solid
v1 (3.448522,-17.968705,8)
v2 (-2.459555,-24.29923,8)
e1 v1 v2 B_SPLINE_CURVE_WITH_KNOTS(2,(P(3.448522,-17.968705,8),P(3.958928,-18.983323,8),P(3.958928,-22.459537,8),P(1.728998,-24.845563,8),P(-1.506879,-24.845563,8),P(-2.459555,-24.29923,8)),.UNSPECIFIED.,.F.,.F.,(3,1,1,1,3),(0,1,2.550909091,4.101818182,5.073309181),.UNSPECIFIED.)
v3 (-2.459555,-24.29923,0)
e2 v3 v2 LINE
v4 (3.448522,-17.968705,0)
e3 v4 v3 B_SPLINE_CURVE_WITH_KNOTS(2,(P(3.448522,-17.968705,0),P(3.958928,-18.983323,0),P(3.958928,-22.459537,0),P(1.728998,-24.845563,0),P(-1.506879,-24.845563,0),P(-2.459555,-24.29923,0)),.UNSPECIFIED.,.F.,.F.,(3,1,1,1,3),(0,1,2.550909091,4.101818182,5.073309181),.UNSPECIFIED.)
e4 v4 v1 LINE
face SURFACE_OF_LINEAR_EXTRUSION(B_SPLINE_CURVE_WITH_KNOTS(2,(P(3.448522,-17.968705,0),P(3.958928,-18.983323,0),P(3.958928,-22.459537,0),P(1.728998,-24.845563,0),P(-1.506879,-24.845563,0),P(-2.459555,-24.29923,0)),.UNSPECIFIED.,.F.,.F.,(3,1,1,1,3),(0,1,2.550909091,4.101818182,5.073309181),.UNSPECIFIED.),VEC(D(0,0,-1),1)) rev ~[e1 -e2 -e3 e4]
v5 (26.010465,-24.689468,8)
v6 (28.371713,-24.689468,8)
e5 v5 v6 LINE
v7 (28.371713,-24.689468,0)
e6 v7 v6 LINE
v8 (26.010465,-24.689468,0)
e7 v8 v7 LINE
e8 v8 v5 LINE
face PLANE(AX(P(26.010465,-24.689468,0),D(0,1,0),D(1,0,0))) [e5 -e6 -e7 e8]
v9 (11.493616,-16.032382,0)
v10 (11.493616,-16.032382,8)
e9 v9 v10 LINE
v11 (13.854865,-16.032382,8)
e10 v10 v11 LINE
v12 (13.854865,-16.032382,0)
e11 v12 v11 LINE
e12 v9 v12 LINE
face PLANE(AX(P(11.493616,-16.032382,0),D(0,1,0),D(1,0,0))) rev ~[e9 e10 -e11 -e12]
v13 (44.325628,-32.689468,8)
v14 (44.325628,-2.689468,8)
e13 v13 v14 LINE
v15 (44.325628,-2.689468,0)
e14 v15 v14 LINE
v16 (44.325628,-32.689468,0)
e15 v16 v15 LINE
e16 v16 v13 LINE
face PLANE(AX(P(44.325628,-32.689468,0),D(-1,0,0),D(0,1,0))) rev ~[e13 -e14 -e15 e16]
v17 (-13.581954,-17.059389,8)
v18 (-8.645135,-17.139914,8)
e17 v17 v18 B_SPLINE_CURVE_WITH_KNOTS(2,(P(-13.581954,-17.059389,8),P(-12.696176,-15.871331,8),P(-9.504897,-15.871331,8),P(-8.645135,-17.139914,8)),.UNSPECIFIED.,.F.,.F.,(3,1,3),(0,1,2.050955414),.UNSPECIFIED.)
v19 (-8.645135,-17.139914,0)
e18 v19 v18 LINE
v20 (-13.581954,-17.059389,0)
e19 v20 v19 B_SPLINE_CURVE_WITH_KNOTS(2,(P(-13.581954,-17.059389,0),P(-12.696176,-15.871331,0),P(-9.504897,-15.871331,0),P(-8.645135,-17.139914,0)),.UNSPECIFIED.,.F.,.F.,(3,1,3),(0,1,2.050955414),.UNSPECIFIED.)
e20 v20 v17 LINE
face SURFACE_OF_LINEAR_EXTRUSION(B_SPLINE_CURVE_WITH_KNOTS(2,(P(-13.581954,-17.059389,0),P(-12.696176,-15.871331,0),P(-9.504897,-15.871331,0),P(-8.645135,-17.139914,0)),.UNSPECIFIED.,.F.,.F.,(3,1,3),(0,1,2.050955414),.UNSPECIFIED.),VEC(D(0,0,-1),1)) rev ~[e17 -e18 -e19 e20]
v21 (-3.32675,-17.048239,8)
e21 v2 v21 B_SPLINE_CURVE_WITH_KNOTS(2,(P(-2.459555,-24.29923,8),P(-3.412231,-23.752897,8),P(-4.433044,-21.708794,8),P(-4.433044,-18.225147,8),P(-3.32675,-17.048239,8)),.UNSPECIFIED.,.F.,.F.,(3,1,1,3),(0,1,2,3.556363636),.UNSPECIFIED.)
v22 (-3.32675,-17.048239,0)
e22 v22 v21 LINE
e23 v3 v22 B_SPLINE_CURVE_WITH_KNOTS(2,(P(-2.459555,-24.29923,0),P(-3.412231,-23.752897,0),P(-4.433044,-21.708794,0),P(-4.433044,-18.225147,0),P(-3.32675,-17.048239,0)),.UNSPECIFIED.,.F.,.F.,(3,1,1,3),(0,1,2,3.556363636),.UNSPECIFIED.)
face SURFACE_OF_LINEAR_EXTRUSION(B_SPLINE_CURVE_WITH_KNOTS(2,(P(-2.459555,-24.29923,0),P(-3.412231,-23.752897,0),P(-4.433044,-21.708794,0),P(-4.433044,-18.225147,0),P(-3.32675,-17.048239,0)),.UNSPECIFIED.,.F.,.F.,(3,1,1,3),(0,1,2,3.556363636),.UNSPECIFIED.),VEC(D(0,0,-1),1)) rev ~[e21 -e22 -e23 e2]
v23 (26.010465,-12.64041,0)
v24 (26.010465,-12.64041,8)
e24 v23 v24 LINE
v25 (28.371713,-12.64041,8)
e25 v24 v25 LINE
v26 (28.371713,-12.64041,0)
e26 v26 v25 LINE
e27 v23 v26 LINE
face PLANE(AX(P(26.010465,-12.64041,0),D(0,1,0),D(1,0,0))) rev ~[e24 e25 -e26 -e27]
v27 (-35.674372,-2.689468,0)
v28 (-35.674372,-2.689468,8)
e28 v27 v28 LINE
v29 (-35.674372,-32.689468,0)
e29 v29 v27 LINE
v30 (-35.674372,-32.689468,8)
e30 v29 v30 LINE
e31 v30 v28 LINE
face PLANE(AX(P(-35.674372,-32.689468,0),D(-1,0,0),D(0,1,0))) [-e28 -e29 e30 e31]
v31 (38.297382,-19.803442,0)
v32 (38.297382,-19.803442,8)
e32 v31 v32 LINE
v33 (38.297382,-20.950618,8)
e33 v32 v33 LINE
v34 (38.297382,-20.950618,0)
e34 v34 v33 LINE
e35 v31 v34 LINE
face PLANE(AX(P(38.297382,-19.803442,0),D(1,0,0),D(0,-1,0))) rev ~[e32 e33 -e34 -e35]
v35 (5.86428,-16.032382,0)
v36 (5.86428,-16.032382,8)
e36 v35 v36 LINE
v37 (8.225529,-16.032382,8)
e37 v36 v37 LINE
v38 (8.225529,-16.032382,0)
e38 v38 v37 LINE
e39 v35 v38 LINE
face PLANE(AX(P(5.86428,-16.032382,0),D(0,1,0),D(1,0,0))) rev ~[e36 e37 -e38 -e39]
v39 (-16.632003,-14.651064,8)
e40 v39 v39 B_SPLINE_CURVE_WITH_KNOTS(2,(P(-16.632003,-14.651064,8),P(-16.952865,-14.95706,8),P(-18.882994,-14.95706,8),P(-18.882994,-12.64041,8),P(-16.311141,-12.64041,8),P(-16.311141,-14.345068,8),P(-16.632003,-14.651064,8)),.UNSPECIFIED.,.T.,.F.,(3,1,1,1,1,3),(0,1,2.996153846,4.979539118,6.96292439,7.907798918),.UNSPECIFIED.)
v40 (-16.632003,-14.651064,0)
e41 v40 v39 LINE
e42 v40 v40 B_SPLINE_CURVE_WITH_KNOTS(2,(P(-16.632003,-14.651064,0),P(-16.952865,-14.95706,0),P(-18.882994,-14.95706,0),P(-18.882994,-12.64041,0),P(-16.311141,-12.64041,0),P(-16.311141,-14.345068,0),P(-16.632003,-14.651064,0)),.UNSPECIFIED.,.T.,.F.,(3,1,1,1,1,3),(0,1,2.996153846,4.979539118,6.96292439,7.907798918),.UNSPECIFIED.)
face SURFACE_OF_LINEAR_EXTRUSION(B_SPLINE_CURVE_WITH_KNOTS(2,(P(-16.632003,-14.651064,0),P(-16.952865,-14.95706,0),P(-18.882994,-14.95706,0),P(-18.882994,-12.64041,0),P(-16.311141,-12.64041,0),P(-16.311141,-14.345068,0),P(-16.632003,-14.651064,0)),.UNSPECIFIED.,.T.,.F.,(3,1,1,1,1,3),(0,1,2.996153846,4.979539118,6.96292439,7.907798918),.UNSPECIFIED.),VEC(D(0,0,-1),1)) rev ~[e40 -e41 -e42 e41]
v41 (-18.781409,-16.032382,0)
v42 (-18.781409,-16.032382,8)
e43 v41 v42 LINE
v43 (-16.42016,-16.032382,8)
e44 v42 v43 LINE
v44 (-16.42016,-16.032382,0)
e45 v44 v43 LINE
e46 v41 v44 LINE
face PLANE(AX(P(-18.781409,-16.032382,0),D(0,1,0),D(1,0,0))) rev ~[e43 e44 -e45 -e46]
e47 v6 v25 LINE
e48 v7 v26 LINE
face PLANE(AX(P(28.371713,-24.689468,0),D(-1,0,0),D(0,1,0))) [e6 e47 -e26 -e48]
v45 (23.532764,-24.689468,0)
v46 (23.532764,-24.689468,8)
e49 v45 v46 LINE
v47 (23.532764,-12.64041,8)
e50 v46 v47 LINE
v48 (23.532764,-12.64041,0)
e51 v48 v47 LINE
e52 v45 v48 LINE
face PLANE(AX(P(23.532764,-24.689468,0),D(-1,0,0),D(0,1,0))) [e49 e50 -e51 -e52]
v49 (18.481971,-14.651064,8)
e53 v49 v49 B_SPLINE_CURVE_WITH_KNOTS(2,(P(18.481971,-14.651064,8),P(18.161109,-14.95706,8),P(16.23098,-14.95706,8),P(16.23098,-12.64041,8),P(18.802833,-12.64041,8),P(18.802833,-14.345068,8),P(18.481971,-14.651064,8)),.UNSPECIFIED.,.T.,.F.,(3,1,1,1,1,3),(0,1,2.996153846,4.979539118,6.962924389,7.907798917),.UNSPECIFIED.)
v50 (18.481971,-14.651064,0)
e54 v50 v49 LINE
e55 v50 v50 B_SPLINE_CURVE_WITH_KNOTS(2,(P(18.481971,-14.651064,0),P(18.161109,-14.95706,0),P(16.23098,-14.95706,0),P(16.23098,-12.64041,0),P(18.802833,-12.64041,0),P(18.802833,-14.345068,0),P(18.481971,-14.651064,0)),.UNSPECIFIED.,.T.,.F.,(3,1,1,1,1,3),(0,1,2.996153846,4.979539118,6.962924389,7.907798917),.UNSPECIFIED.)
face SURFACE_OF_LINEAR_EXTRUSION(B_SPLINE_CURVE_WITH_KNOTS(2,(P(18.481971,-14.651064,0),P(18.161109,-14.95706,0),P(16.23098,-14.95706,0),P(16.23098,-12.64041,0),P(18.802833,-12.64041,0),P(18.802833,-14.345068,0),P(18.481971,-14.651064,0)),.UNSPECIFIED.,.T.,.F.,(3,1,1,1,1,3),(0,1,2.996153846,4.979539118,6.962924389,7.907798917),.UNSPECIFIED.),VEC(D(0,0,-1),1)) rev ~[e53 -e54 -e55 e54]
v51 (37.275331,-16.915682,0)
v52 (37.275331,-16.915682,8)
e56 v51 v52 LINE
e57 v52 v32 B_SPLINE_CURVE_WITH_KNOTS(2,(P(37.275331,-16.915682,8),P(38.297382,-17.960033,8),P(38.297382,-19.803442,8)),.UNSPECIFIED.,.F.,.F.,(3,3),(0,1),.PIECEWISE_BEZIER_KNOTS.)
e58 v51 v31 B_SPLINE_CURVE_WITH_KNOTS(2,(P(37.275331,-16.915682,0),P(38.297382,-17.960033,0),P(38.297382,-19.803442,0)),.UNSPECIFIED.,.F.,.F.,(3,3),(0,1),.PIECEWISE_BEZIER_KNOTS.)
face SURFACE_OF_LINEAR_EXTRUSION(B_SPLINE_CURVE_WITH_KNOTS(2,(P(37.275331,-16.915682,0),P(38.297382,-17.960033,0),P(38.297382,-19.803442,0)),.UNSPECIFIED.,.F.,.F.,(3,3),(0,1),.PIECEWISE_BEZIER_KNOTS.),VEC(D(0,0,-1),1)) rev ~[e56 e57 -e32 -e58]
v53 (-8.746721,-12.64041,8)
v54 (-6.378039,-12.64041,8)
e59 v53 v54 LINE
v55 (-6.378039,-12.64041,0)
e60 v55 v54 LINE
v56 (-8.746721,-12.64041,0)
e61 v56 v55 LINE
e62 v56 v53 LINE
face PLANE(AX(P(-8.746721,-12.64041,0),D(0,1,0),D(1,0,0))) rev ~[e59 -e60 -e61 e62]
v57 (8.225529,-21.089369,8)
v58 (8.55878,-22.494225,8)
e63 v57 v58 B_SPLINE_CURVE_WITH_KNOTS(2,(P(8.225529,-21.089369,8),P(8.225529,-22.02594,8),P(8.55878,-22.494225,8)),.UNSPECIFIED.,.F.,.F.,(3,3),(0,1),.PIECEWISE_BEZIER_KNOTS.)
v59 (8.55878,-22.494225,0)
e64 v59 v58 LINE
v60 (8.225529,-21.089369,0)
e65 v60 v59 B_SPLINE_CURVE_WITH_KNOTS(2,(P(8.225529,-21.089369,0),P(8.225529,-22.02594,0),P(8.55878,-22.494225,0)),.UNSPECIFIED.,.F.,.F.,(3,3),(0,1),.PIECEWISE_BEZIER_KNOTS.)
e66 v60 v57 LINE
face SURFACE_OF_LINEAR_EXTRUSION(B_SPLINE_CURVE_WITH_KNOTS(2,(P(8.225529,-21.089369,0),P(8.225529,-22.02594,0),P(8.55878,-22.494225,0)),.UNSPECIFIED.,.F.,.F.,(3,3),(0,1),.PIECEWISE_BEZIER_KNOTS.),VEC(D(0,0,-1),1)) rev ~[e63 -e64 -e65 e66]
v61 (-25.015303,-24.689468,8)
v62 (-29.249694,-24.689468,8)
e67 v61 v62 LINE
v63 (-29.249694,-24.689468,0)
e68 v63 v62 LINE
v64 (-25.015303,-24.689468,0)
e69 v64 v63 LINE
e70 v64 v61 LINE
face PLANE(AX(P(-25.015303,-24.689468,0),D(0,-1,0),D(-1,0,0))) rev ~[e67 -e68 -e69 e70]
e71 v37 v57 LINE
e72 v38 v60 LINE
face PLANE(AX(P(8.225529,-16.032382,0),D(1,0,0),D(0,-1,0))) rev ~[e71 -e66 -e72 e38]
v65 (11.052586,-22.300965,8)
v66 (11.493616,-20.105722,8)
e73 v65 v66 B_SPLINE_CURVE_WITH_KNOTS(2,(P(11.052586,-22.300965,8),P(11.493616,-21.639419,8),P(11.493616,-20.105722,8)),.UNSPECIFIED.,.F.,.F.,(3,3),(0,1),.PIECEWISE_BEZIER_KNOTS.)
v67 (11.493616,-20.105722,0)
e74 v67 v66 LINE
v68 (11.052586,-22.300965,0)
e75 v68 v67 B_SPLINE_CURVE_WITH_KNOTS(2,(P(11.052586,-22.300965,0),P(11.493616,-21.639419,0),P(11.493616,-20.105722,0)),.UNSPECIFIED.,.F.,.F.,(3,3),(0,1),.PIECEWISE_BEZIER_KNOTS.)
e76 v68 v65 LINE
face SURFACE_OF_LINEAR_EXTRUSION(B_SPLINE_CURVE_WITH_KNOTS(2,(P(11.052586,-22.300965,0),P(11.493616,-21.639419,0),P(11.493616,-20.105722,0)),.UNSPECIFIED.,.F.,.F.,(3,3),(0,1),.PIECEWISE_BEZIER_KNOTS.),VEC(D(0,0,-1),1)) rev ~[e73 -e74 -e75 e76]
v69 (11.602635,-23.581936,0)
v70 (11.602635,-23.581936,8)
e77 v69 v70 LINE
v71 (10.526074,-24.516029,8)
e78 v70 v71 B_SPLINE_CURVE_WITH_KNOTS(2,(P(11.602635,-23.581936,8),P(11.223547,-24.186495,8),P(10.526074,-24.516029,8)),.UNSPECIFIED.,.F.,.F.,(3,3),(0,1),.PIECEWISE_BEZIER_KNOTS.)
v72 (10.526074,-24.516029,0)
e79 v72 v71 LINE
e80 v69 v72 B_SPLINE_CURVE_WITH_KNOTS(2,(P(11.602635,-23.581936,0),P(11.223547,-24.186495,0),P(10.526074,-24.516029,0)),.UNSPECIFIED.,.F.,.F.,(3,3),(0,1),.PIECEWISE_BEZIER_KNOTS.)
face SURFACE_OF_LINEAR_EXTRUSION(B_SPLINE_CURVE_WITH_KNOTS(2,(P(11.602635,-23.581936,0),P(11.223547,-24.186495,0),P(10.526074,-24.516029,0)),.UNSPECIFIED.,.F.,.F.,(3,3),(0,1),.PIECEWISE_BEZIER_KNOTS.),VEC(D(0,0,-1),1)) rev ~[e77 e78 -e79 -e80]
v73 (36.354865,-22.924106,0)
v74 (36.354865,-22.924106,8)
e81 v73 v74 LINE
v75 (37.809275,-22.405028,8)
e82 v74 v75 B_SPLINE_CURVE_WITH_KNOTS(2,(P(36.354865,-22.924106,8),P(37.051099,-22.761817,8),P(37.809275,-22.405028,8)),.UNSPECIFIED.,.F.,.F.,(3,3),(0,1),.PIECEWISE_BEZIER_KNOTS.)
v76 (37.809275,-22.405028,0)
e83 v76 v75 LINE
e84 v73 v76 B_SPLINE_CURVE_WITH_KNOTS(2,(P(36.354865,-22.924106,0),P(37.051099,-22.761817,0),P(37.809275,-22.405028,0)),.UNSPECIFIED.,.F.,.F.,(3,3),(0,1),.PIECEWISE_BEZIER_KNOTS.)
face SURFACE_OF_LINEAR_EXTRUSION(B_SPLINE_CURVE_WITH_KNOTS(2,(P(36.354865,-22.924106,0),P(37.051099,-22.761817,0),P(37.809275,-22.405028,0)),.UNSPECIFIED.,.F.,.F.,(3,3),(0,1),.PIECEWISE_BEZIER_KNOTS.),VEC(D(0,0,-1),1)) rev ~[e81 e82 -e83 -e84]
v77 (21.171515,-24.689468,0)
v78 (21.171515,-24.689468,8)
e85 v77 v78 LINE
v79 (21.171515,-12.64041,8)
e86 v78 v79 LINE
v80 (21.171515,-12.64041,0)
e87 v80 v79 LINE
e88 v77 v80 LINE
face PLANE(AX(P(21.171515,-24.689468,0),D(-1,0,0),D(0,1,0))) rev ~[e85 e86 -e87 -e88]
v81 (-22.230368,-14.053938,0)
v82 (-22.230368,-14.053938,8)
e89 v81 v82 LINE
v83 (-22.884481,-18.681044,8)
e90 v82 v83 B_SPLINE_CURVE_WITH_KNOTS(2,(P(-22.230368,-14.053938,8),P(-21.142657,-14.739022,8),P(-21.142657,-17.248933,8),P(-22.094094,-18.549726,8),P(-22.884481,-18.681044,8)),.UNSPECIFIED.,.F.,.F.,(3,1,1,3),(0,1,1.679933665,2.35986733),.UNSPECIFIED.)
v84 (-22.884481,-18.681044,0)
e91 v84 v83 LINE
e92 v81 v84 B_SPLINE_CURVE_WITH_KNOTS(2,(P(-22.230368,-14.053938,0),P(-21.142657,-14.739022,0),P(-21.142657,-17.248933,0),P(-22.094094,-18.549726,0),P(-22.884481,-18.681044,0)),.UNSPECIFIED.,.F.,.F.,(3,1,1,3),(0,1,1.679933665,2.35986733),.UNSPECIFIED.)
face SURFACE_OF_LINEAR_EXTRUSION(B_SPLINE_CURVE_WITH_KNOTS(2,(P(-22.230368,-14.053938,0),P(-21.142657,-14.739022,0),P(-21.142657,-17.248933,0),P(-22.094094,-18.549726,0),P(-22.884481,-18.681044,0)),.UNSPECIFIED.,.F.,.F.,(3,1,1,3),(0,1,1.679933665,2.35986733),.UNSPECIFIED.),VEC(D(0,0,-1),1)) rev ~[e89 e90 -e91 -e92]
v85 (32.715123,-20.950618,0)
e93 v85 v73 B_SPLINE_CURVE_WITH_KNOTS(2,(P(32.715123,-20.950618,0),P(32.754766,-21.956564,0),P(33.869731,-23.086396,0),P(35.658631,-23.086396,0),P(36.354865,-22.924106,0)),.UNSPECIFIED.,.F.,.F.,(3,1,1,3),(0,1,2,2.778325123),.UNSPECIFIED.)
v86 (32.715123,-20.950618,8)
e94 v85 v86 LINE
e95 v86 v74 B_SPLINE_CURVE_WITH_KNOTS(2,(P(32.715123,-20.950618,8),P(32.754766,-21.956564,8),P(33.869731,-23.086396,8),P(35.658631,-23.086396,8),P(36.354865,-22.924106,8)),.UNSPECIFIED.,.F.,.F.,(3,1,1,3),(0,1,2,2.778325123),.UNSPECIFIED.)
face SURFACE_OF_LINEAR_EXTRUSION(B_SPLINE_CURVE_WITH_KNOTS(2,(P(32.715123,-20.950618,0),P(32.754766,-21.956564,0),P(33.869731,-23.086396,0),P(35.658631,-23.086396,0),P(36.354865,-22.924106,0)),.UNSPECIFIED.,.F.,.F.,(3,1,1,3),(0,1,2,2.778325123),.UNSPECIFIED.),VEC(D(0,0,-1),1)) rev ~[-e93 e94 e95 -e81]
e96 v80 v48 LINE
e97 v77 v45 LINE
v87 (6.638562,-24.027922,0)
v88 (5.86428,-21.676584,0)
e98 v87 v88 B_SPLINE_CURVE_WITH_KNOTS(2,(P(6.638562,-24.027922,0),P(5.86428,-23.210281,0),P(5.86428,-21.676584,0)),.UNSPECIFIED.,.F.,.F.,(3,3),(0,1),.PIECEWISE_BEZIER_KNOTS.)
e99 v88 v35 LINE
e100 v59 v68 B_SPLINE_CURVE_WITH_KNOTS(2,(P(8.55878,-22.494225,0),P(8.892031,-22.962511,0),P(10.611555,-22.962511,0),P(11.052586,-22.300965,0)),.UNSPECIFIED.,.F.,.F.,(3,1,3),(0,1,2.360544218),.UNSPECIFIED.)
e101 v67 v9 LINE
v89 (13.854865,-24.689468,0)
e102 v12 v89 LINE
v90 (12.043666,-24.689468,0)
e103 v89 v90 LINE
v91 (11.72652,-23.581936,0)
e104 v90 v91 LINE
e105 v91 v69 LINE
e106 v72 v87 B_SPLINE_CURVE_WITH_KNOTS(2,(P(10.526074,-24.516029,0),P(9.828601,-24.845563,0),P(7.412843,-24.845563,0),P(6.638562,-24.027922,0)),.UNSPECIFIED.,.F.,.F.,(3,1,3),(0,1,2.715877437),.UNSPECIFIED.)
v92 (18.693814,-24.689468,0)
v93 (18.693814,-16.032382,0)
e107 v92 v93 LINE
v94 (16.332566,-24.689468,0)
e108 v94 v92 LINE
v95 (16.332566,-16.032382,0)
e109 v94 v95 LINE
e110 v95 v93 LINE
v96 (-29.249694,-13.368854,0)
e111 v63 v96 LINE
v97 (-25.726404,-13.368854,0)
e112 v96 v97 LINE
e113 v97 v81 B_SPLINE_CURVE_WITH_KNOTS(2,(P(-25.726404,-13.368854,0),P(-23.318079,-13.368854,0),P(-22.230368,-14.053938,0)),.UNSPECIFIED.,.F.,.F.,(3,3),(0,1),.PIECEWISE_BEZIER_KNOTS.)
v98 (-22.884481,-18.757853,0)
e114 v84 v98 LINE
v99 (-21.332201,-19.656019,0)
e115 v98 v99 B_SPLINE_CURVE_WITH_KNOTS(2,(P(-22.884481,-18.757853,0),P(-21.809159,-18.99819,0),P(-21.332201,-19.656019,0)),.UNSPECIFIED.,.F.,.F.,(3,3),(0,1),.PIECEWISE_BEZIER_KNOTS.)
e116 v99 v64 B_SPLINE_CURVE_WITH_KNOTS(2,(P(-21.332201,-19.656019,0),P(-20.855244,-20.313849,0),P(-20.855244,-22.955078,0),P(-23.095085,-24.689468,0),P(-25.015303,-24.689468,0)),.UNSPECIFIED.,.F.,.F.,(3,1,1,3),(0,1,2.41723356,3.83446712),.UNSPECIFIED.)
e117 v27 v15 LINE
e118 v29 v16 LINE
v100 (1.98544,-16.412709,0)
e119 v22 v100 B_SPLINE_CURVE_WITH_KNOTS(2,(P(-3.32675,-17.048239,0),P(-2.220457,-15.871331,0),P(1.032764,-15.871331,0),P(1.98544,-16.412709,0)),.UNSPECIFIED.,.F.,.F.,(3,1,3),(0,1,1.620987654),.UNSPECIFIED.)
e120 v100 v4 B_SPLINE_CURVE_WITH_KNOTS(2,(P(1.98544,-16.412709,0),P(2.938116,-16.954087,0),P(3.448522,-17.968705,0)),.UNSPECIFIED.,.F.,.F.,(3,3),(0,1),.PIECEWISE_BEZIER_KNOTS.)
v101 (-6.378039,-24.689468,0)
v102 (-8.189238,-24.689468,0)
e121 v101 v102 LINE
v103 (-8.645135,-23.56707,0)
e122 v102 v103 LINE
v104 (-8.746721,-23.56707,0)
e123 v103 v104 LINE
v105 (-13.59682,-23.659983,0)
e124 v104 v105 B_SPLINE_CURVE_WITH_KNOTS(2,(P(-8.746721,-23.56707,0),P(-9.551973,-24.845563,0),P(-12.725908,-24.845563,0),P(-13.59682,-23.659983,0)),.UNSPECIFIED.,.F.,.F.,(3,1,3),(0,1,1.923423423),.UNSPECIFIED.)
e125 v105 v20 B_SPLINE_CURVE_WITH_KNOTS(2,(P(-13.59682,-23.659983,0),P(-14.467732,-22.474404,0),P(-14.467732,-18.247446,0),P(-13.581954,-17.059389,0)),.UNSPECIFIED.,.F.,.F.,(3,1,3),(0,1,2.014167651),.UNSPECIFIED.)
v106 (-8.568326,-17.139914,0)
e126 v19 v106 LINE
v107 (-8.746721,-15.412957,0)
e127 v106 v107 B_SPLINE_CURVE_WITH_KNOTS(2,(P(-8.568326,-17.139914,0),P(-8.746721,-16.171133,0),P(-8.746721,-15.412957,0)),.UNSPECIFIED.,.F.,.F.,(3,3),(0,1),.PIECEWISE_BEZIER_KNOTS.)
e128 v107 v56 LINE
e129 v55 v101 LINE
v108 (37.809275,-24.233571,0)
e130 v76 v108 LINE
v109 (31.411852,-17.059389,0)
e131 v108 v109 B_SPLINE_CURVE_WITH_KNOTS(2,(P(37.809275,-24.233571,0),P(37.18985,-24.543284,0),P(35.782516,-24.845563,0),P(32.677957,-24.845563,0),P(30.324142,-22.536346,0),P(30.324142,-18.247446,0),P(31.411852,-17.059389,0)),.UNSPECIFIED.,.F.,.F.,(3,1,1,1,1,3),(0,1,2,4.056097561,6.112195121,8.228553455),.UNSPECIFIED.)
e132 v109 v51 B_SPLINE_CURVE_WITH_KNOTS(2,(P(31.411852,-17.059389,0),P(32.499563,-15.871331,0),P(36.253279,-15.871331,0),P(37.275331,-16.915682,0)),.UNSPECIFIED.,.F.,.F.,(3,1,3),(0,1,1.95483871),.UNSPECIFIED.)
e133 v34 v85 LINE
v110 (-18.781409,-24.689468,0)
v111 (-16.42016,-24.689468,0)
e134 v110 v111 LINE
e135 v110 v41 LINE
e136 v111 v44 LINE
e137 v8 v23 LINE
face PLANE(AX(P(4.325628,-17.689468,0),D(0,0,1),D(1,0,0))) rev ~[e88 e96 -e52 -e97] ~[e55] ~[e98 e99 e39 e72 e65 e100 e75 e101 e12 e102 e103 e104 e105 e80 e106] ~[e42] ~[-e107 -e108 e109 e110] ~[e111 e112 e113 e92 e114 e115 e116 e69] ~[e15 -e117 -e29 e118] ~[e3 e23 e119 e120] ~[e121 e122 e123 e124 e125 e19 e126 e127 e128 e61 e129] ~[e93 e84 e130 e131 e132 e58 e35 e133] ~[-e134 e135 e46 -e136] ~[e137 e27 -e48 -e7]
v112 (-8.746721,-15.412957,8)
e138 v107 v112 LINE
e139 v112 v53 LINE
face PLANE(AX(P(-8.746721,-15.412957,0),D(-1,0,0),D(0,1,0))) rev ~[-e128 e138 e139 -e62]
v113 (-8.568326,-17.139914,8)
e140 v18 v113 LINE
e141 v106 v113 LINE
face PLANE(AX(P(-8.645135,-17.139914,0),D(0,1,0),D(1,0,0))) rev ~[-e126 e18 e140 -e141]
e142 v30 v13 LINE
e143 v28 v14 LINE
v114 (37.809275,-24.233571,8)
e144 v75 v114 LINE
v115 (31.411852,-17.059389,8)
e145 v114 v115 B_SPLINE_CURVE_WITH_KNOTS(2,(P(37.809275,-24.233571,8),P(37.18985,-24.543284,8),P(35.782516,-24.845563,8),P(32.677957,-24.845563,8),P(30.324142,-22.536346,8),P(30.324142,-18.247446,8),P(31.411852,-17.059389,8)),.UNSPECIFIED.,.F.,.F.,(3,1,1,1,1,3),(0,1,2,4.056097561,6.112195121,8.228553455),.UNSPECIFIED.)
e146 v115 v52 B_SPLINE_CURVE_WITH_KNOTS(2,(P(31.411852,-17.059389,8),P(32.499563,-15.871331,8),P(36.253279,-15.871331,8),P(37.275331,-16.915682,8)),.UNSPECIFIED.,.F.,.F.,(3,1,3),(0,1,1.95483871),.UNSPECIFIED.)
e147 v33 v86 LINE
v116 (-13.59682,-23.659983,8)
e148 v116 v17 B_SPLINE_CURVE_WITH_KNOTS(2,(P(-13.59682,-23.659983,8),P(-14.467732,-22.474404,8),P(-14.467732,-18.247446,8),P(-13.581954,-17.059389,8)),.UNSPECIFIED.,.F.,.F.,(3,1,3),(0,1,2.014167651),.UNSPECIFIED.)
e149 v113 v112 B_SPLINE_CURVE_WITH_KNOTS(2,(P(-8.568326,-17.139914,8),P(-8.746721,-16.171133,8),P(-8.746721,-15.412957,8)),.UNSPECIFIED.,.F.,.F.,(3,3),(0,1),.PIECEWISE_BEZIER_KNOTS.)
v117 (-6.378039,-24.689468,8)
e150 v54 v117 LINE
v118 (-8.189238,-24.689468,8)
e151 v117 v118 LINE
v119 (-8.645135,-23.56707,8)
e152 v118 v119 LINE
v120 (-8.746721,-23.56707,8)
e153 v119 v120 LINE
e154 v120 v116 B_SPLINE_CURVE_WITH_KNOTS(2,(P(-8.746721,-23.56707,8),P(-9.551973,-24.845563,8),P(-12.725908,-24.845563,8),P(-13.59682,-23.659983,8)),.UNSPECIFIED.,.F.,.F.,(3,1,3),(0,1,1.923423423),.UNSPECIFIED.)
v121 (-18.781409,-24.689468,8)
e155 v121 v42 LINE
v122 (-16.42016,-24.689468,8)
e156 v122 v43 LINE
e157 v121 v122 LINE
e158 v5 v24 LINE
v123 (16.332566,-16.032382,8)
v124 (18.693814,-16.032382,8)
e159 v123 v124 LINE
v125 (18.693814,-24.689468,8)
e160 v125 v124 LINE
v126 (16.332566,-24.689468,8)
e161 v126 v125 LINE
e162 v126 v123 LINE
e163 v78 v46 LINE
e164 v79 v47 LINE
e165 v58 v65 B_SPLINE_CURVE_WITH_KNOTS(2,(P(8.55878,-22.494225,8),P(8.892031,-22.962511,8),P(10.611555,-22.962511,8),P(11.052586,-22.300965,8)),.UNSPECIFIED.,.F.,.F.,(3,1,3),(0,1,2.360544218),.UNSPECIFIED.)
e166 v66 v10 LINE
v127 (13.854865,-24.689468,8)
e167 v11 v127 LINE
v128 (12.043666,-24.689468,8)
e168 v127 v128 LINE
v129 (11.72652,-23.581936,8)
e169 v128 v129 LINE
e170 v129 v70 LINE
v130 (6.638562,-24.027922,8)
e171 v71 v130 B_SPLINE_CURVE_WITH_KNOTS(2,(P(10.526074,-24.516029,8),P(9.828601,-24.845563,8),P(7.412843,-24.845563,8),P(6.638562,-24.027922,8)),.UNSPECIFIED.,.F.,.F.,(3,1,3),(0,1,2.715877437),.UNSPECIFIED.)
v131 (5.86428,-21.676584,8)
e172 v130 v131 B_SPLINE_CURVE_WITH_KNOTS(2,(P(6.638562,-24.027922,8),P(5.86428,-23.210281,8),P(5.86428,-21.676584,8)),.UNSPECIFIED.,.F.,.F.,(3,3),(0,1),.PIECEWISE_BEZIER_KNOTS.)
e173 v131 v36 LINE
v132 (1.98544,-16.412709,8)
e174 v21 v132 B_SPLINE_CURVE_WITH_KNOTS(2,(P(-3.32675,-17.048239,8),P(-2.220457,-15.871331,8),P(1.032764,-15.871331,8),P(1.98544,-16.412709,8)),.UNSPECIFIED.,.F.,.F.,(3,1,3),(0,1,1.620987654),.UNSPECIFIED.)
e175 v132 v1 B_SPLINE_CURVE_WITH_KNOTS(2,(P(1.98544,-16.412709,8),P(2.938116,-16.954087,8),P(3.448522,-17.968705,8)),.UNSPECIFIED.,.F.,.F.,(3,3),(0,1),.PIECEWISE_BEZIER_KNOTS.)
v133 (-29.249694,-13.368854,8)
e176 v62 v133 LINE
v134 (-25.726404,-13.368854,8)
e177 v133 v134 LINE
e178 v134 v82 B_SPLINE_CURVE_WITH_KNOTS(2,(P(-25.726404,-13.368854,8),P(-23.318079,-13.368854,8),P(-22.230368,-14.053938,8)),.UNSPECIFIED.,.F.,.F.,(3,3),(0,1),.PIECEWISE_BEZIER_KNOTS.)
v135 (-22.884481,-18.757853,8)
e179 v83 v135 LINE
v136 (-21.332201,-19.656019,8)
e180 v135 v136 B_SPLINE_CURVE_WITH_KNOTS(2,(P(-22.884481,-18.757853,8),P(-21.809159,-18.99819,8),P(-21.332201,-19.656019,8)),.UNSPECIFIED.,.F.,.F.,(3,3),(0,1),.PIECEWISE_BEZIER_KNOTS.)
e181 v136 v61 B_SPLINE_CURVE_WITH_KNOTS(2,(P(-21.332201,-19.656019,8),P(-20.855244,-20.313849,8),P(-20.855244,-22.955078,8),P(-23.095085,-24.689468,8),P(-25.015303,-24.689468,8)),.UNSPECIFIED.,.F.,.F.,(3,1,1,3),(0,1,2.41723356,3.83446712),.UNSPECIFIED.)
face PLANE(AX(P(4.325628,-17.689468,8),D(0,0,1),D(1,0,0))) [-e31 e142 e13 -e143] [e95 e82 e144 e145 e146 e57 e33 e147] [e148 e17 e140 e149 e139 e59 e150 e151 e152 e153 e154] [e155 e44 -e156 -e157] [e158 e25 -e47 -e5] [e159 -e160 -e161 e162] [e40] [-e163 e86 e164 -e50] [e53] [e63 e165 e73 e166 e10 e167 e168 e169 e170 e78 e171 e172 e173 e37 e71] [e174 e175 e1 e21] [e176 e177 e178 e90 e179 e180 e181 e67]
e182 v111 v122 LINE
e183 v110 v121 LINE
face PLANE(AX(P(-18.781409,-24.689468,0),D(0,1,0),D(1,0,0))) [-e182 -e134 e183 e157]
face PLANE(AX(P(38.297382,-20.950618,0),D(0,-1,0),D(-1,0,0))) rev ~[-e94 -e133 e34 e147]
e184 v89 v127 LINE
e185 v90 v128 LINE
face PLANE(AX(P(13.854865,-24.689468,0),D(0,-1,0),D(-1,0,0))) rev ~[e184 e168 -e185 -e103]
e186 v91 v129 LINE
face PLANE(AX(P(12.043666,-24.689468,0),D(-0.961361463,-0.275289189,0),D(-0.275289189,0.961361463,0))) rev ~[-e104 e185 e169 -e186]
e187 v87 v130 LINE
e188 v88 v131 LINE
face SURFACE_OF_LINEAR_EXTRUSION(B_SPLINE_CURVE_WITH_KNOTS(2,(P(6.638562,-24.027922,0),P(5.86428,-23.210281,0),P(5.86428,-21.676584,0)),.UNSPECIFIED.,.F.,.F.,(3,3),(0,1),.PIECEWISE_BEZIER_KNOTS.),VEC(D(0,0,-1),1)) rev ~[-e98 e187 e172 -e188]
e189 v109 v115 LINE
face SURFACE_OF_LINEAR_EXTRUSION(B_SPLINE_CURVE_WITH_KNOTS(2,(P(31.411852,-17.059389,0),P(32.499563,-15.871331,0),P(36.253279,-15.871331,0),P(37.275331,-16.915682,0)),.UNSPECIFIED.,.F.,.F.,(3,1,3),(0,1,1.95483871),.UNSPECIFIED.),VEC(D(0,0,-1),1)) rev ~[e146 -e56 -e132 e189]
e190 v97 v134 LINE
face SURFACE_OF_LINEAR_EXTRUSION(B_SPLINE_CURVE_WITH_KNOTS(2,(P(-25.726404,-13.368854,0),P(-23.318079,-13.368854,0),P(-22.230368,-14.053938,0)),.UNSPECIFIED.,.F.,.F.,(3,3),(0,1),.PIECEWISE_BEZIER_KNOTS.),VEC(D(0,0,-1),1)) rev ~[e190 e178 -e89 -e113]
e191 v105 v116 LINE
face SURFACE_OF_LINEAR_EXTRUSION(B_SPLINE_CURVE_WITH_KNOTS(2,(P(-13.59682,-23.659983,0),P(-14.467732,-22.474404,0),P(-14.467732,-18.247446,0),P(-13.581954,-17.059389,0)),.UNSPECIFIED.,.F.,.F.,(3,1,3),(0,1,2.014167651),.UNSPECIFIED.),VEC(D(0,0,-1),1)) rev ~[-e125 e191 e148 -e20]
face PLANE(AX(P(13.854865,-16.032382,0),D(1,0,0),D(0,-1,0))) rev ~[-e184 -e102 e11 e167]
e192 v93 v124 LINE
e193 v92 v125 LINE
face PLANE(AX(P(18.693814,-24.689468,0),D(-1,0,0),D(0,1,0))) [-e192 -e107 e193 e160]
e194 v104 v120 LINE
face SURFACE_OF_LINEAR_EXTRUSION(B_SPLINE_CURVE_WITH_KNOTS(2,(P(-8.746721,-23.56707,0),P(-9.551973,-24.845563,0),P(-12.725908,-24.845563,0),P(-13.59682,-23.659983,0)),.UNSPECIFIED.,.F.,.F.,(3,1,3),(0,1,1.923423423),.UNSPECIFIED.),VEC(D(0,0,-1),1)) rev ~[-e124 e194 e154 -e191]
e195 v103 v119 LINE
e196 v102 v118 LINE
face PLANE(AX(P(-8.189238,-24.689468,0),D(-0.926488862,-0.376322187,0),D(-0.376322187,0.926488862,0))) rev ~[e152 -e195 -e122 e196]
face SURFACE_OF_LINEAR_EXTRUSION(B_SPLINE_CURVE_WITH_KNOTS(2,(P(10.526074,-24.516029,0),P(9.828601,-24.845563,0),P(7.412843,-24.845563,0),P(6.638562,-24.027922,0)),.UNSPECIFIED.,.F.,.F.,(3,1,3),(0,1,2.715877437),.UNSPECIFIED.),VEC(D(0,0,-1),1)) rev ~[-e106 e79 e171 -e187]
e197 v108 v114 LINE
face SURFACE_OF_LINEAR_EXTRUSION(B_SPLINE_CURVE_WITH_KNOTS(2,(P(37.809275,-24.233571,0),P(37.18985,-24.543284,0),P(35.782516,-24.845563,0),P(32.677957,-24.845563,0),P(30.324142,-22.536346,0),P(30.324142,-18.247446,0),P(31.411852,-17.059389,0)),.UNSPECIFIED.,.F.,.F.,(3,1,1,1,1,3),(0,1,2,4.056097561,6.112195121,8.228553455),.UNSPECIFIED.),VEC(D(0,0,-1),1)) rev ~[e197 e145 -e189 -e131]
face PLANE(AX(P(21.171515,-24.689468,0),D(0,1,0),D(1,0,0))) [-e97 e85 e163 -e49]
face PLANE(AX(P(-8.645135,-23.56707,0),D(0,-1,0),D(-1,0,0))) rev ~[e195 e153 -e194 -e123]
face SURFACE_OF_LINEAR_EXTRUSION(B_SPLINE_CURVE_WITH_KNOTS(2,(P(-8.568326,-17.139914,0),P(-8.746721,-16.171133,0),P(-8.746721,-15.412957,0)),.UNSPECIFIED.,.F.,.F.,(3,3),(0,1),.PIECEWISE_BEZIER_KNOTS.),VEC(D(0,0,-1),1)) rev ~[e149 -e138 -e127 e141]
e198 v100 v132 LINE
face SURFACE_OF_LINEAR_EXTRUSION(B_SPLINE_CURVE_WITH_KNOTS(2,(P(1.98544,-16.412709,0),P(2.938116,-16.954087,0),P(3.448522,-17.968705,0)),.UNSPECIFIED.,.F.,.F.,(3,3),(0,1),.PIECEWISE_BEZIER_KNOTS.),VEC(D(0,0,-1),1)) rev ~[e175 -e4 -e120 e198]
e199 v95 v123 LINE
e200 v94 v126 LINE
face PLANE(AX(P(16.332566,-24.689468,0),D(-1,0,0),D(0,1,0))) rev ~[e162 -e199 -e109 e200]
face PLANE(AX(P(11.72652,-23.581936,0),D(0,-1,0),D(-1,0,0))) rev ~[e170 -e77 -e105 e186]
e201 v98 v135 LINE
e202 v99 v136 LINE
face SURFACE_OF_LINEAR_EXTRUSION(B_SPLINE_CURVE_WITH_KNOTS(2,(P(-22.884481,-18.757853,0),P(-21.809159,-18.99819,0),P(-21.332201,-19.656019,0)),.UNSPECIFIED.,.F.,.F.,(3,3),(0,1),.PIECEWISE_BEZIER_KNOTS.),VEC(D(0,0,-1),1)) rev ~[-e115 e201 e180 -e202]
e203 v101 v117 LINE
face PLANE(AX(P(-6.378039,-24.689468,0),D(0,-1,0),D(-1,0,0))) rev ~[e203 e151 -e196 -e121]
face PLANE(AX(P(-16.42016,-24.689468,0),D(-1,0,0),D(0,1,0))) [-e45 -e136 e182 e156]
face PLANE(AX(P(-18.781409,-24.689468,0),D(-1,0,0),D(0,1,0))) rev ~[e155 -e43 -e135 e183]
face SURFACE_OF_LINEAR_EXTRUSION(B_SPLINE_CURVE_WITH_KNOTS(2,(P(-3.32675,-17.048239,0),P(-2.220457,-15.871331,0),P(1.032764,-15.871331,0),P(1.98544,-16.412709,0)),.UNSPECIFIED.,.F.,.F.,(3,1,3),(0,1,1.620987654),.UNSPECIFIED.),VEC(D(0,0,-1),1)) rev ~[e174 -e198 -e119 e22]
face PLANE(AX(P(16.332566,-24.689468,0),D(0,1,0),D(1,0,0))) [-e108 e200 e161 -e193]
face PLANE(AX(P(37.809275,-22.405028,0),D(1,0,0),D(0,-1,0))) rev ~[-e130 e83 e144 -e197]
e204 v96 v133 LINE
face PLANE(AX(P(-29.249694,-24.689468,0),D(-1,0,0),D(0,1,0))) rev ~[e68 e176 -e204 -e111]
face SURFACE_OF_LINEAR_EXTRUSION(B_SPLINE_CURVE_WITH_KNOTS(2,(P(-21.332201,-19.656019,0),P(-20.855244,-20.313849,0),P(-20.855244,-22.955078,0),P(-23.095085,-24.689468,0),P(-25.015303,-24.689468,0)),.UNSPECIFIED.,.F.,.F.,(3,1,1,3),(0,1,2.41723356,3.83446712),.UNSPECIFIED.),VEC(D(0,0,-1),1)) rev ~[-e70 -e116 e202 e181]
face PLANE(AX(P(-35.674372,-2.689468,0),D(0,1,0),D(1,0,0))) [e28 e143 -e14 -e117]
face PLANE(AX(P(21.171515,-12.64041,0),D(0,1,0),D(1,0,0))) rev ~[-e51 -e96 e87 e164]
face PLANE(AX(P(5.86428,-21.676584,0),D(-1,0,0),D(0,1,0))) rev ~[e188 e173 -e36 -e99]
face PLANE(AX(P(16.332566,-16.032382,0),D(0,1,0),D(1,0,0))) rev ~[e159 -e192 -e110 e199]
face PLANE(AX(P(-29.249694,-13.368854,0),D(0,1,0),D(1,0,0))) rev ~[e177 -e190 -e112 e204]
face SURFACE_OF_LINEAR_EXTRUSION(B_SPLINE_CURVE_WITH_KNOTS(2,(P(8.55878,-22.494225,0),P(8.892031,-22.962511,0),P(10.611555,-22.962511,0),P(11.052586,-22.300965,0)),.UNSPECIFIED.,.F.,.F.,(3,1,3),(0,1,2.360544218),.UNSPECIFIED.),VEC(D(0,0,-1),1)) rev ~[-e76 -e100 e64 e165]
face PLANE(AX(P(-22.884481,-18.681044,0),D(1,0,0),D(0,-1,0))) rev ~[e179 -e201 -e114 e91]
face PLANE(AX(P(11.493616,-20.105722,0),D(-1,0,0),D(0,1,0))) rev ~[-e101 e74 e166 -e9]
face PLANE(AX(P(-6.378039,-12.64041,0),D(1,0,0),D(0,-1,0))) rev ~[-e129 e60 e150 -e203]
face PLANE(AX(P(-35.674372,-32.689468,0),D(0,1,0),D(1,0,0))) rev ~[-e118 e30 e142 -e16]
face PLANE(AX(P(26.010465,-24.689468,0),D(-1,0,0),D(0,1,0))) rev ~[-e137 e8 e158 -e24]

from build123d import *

# Parameters (mm, degrees)
F0_W     = 80
F0_H     = 30
F0_W_2   = 2.3612487611
F0_H_2   = 8.657086224
F0_H_3   = 12.0490584737
F1_DEPTH = 8


with BuildPart() as f1:
    # F0 (on Top) → F1 (new body)
    with BuildSketch(Plane.XY):
        with Locations((4.3256281316, -17.6894681206)):
            Rectangle(F0_W, F0_H)
        with Locations((-17.6007841578, -20.3609250086)):
            Rectangle(F0_W_2, F0_H_2, mode=Mode.SUBTRACT)
        with BuildLine():
            Line((-29.2496939695, -24.6894681206), (-29.2496939695, -13.3688536509))
            Line((-29.2496939695, -13.3688536509), (-25.7264035829, -13.3688536509))
            add(Edge.make_bspline(
                [(-25.7264035829, -13.3688536509), (-23.3180785086, -13.3688536509), (-22.2303679041, -14.0539378927)],
                knots=[0, 0, 0, 1, 1, 1], degree=2))
            add(Edge.make_bspline(
                [(-22.2303679041, -14.0539378927), (-21.1426572995, -14.7390221345), (-21.1426572995, -16.2330756528)],
                knots=[0, 0, 0, 1, 1, 1], degree=2))
            add(Edge.make_bspline(
                [(-21.1426572995, -16.2330756528), (-21.1426572995, -17.2489329373), (-21.6183758327, -17.8993293694)],
                knots=[0, 0, 0, 1, 1, 1], degree=2))
            add(Edge.make_bspline(
                [(-21.6183758327, -17.8993293694), (-22.0940943659, -18.5497258015), (-22.8844808872, -18.6810439383)],
                knots=[0, 0, 0, 1, 1, 1], degree=2))
            Line((-22.8844808872, -18.6810439383), (-22.8844808872, -18.7578526598))
            add(Edge.make_bspline(
                [(-22.8844808872, -18.7578526598), (-21.8091587861, -18.9981896271), (-21.3322014026, -19.6560191613)],
                knots=[0, 0, 0, 1, 1, 1], degree=2))
            add(Edge.make_bspline(
                [(-21.3322014026, -19.6560191613), (-20.855244019, -20.3138486955), (-20.855244019, -21.4065147014)],
                knots=[0, 0, 0, 1, 1, 1], degree=2))
            add(Edge.make_bspline(
                [(-20.855244019, -21.4065147014), (-20.855244019, -22.955077635), (-21.9751647326, -23.8222728778)],
                knots=[0, 0, 0, 1, 1, 1], degree=2))
            add(Edge.make_bspline(
                [(-21.9751647326, -23.8222728778), (-23.0950854462, -24.6894681206), (-25.0153034838, -24.6894681206)],
                knots=[0, 0, 0, 1, 1, 1], degree=2))
            Line((-25.0153034838, -24.6894681206), (-29.2496939695, -24.6894681206))
        make_face(mode=Mode.SUBTRACT)
        with BuildLine():
            add(Edge.make_bspline(
                [(-8.7467207286, -23.5670697064), (-9.5519734541, -24.8455632643), (-11.2021221161, -24.8455632643)],
                knots=[0, 0, 0, 1, 1, 1], degree=2))
            add(Edge.make_bspline(
                [(-11.2021221161, -24.8455632643), (-12.7259080428, -24.8455632643), (-13.5968198367, -23.6599834824)],
                knots=[0, 0, 0, 1, 1, 1], degree=2))
            add(Edge.make_bspline(
                [(-13.5968198367, -23.6599834824), (-14.4677316305, -22.4744037004), (-14.4677316305, -20.3757912128)],
                knots=[0, 0, 0, 1, 1, 1], degree=2))
            add(Edge.make_bspline(
                [(-14.4677316305, -20.3757912128), (-14.4677316305, -18.2474463169), (-13.5819536325, -17.0593888342)],
                knots=[0, 0, 0, 1, 1, 1], degree=2))
            add(Edge.make_bspline(
                [(-13.5819536325, -17.0593888342), (-12.6961756345, -15.8713313516), (-11.1401795988, -15.8713313516)],
                knots=[0, 0, 0, 1, 1, 1], degree=2))
            add(Edge.make_bspline(
                [(-11.1401795988, -15.8713313516), (-9.5048971409, -15.8713313516), (-8.6451350002, -17.1399141068)],
                knots=[0, 0, 0, 1, 1, 1], degree=2))
            Line((-8.6451350002, -17.1399141068), (-8.5683262787, -17.1399141068))
            add(Edge.make_bspline(
                [(-8.5683262787, -17.1399141068), (-8.7467207286, -16.1711331355), (-8.7467207286, -15.4129567232)],
                knots=[0, 0, 0, 1, 1, 1], degree=2))
            Line((-8.7467207286, -15.4129567232), (-8.7467207286, -12.6404096469))
            Line((-8.7467207286, -12.6404096469), (-6.3780388654, -12.6404096469))
            Line((-6.3780388654, -12.6404096469), (-6.3780388654, -24.6894681206))
            Line((-6.3780388654, -24.6894681206), (-8.1892380725, -24.6894681206))
            Line((-8.1892380725, -24.6894681206), (-8.6451350002, -23.5670697064))
            Line((-8.6451350002, -23.5670697064), (-8.7467207286, -23.5670697064))
        make_face(mode=Mode.SUBTRACT)
        with BuildLine():
            add(Edge.make_bspline(
                [(3.448522086, -17.9687049888), (3.958928429, -18.9833234229), (3.958928429, -20.3460588045)],
                knots=[0, 0, 0, 1, 1, 1], degree=2))
            add(Edge.make_bspline(
                [(3.958928429, -20.3460588045), (3.958928429, -22.4595374963), (2.8439631168, -23.6525503803)],
                knots=[0, 0, 0, 1, 1, 1], degree=2))
            add(Edge.make_bspline(
                [(2.8439631168, -23.6525503803), (1.7289978046, -24.8455632643), (-0.2605958525, -24.8455632643)],
                knots=[0, 0, 0, 1, 1, 1], degree=2))
            add(Edge.make_bspline(
                [(-0.2605958525, -24.8455632643), (-1.5068793015, -24.8455632643), (-2.4595552182, -24.2992302614)],
                knots=[0, 0, 0, 1, 1, 1], degree=2))
            add(Edge.make_bspline(
                [(-2.4595552182, -24.2992302614), (-3.412231135, -23.7528972584), (-3.9226374779, -22.7308457222)],
                knots=[0, 0, 0, 1, 1, 1], degree=2))
            add(Edge.make_bspline(
                [(-3.9226374779, -22.7308457222), (-4.4330438208, -21.708794186), (-4.4330438208, -20.3460588045)],
                knots=[0, 0, 0, 1, 1, 1], degree=2))
            add(Edge.make_bspline(
                [(-4.4330438208, -20.3460588045), (-4.4330438208, -18.2251470106), (-3.326750461, -17.0482391811)],
                knots=[0, 0, 0, 1, 1, 1], degree=2))
            add(Edge.make_bspline(
                [(-3.326750461, -17.0482391811), (-2.2204571013, -15.8713313516), (-0.2135195393, -15.8713313516)],
                knots=[0, 0, 0, 1, 1, 1], degree=2))
            add(Edge.make_bspline(
                [(-0.2135195393, -15.8713313516), (1.0327639096, -15.8713313516), (1.9854398264, -16.4127089531)],
                knots=[0, 0, 0, 1, 1, 1], degree=2))
            add(Edge.make_bspline(
                [(1.9854398264, -16.4127089531), (2.9381157431, -16.9540865547), (3.448522086, -17.9687049888)],
                knots=[0, 0, 0, 1, 1, 1], degree=2))
        make_face(mode=Mode.SUBTRACT)
        with BuildLine():
            Line((13.8548649998, -24.6894681206), (12.0436657927, -24.6894681206))
            Line((12.0436657927, -24.6894681206), (11.7265201039, -23.5819359105))
            Line((11.7265201039, -23.5819359105), (11.6026350692, -23.5819359105))
            add(Edge.make_bspline(
                [(11.6026350692, -23.5819359105), (11.223546863, -24.1864948798), (10.5260741178, -24.5160290721)],
                knots=[0, 0, 0, 1, 1, 1], degree=2))
            add(Edge.make_bspline(
                [(10.5260741178, -24.5160290721), (9.8286013725, -24.8455632643), (8.9391068234, -24.8455632643)],
                knots=[0, 0, 0, 1, 1, 1], degree=2))
            add(Edge.make_bspline(
                [(8.9391068234, -24.8455632643), (7.412843196, -24.8455632643), (6.6385617292, -24.0279220354)],
                knots=[0, 0, 0, 1, 1, 1], degree=2))
            add(Edge.make_bspline(
                [(6.6385617292, -24.0279220354), (5.8642802625, -23.2102808065), (5.8642802625, -21.676584077)],
                knots=[0, 0, 0, 1, 1, 1], degree=2))
            Line((5.8642802625, -21.676584077), (5.8642802625, -16.0323818966))
            Line((5.8642802625, -16.0323818966), (8.2255290236, -16.0323818966))
            Line((8.2255290236, -16.0323818966), (8.2255290236, -21.0893690126))
            add(Edge.make_bspline(
                [(8.2255290236, -21.0893690126), (8.2255290236, -22.0259398748), (8.5587797669, -22.494225306)],
                knots=[0, 0, 0, 1, 1, 1], degree=2))
            add(Edge.make_bspline(
                [(8.5587797669, -22.494225306), (8.8920305102, -22.9625107371), (9.6204745142, -22.9625107371)],
                knots=[0, 0, 0, 1, 1, 1], degree=2))
            add(Edge.make_bspline(
                [(9.6204745142, -22.9625107371), (10.6115547917, -22.9625107371), (11.0525855152, -22.3009646519)],
                knots=[0, 0, 0, 1, 1, 1], degree=2))
            add(Edge.make_bspline(
                [(11.0525855152, -22.3009646519), (11.4936162387, -21.6394185666), (11.4936162387, -20.1057218372)],
                knots=[0, 0, 0, 1, 1, 1], degree=2))
            Line((11.4936162387, -20.1057218372), (11.4936162387, -16.0323818966))
            Line((11.4936162387, -16.0323818966), (13.8548649998, -16.0323818966))
            Line((13.8548649998, -16.0323818966), (13.8548649998, -24.6894681206))
        make_face(mode=Mode.SUBTRACT)
        with Locations((17.5131900741, -20.3609250086)):
            Rectangle(F0_W_2, F0_H_2, mode=Mode.SUBTRACT)
        with Locations((22.3521395291, -18.6649388838)):
            Rectangle(F0_W_2, F0_H_3, mode=Mode.SUBTRACT)
        with BuildLine():
            add(Edge.make_bspline(
                [(36.4861831366, -24.694423522), (35.7825161396, -24.8455632643), (34.7666588551, -24.8455632643)],
                knots=[0, 0, 0, 1, 1, 1], degree=2))
            add(Edge.make_bspline(
                [(34.7666588551, -24.8455632643), (32.6779571703, -24.8455632643), (31.5010493407, -23.690954741)],
                knots=[0, 0, 0, 1, 1, 1], degree=2))
            add(Edge.make_bspline(
                [(31.5010493407, -23.690954741), (30.3241415112, -22.5363462178), (30.3241415112, -20.422867526)],
                knots=[0, 0, 0, 1, 1, 1], degree=2))
            add(Edge.make_bspline(
                [(30.3241415112, -20.422867526), (30.3241415112, -18.2474463169), (31.4118521158, -17.0593888342)],
                knots=[0, 0, 0, 1, 1, 1], degree=2))
            add(Edge.make_bspline(
                [(31.4118521158, -17.0593888342), (32.4995627203, -15.8713313516), (34.419780758, -15.8713313516)],
                knots=[0, 0, 0, 1, 1, 1], degree=2))
            add(Edge.make_bspline(
                [(34.419780758, -15.8713313516), (36.2532792714, -15.8713313516), (37.2753308075, -16.915682194)],
                knots=[0, 0, 0, 1, 1, 1], degree=2))
            add(Edge.make_bspline(
                [(37.2753308075, -16.915682194), (38.2973823437, -17.9600330364), (38.2973823437, -19.8034423525)],
                knots=[0, 0, 0, 1, 1, 1], degree=2))
            Line((38.2973823437, -19.8034423525), (38.2973823437, -20.9506177738))
            Line((38.2973823437, -20.9506177738), (32.7151226807, -20.9506177738))
            add(Edge.make_bspline(
                [(32.7151226807, -20.9506177738), (32.7547658918, -21.9565642554), (33.3122485479, -22.5214800136)],
                knots=[0, 0, 0, 1, 1, 1], degree=2))
            add(Edge.make_bspline(
                [(33.3122485479, -22.5214800136), (33.869731204, -23.0863957718), (34.8756776856, -23.0863957718)],
                knots=[0, 0, 0, 1, 1, 1], degree=2))
            add(Edge.make_bspline(
                [(34.8756776856, -23.0863957718), (35.6586311049, -23.0863957718), (36.3548649998, -22.9241063763)],
                knots=[0, 0, 0, 1, 1, 1], degree=2))
            add(Edge.make_bspline(
                [(36.3548649998, -22.9241063763), (37.0510988948, -22.7618169809), (37.809275307, -22.405028081)],
                knots=[0, 0, 0, 1, 1, 1], degree=2))
            Line((37.809275307, -22.405028081), (37.809275307, -24.233571193))
            add(Edge.make_bspline(
                [(37.809275307, -24.233571193), (37.1898501336, -24.5432837797), (36.4861831366, -24.694423522)],
                knots=[0, 0, 0, 1, 1, 1], degree=2))
        make_face(mode=Mode.SUBTRACT)
        with Locations((27.191088984, -18.6649388838)):
            Rectangle(F0_W_2, F0_H_3, mode=Mode.SUBTRACT)
        with BuildLine():
            add(Edge.make_bspline(
                [(-17.5970676067, -14.9570597956), (-18.8829942668, -14.9570597956), (-18.8829942668, -13.7950181702)],
                knots=[0, 0, 0, 1, 1, 1], degree=2))
            add(Edge.make_bspline(
                [(-18.8829942668, -13.7950181702), (-18.8829942668, -12.6404096469), (-17.5970676067, -12.6404096469)],
                knots=[0, 0, 0, 1, 1, 1], degree=2))
            add(Edge.make_bspline(
                [(-17.5970676067, -12.6404096469), (-16.3111409467, -12.6404096469), (-16.3111409467, -13.7950181702)],
                knots=[0, 0, 0, 1, 1, 1], degree=2))
            add(Edge.make_bspline(
                [(-16.3111409467, -13.7950181702), (-16.3111409467, -14.3450677242), (-16.6320031865, -14.6510637599)],
                knots=[0, 0, 0, 1, 1, 1], degree=2))
            add(Edge.make_bspline(
                [(-16.6320031865, -14.6510637599), (-16.9528654264, -14.9570597956), (-17.5970676067, -14.9570597956)],
                knots=[0, 0, 0, 1, 1, 1], degree=2))
        make_face(mode=Mode.SUBTRACT)
        with BuildLine():
            add(Edge.make_bspline(
                [(17.5169066252, -14.9570597956), (16.2309799651, -14.9570597956), (16.2309799651, -13.7950181702)],
                knots=[0, 0, 0, 1, 1, 1], degree=2))
            add(Edge.make_bspline(
                [(16.2309799651, -13.7950181702), (16.2309799651, -12.6404096469), (17.5169066252, -12.6404096469)],
                knots=[0, 0, 0, 1, 1, 1], degree=2))
            add(Edge.make_bspline(
                [(17.5169066252, -12.6404096469), (18.8028332852, -12.6404096469), (18.8028332852, -13.7950181702)],
                knots=[0, 0, 0, 1, 1, 1], degree=2))
            add(Edge.make_bspline(
                [(18.8028332852, -13.7950181702), (18.8028332852, -14.3450677242), (18.4819710454, -14.6510637599)],
                knots=[0, 0, 0, 1, 1, 1], degree=2))
            add(Edge.make_bspline(
                [(18.4819710454, -14.6510637599), (18.1611088056, -14.9570597956), (17.5169066252, -14.9570597956)],
                knots=[0, 0, 0, 1, 1, 1], degree=2))
        make_face(mode=Mode.SUBTRACT)
    extrude(amount=F1_DEPTH)


solid = f1.part
